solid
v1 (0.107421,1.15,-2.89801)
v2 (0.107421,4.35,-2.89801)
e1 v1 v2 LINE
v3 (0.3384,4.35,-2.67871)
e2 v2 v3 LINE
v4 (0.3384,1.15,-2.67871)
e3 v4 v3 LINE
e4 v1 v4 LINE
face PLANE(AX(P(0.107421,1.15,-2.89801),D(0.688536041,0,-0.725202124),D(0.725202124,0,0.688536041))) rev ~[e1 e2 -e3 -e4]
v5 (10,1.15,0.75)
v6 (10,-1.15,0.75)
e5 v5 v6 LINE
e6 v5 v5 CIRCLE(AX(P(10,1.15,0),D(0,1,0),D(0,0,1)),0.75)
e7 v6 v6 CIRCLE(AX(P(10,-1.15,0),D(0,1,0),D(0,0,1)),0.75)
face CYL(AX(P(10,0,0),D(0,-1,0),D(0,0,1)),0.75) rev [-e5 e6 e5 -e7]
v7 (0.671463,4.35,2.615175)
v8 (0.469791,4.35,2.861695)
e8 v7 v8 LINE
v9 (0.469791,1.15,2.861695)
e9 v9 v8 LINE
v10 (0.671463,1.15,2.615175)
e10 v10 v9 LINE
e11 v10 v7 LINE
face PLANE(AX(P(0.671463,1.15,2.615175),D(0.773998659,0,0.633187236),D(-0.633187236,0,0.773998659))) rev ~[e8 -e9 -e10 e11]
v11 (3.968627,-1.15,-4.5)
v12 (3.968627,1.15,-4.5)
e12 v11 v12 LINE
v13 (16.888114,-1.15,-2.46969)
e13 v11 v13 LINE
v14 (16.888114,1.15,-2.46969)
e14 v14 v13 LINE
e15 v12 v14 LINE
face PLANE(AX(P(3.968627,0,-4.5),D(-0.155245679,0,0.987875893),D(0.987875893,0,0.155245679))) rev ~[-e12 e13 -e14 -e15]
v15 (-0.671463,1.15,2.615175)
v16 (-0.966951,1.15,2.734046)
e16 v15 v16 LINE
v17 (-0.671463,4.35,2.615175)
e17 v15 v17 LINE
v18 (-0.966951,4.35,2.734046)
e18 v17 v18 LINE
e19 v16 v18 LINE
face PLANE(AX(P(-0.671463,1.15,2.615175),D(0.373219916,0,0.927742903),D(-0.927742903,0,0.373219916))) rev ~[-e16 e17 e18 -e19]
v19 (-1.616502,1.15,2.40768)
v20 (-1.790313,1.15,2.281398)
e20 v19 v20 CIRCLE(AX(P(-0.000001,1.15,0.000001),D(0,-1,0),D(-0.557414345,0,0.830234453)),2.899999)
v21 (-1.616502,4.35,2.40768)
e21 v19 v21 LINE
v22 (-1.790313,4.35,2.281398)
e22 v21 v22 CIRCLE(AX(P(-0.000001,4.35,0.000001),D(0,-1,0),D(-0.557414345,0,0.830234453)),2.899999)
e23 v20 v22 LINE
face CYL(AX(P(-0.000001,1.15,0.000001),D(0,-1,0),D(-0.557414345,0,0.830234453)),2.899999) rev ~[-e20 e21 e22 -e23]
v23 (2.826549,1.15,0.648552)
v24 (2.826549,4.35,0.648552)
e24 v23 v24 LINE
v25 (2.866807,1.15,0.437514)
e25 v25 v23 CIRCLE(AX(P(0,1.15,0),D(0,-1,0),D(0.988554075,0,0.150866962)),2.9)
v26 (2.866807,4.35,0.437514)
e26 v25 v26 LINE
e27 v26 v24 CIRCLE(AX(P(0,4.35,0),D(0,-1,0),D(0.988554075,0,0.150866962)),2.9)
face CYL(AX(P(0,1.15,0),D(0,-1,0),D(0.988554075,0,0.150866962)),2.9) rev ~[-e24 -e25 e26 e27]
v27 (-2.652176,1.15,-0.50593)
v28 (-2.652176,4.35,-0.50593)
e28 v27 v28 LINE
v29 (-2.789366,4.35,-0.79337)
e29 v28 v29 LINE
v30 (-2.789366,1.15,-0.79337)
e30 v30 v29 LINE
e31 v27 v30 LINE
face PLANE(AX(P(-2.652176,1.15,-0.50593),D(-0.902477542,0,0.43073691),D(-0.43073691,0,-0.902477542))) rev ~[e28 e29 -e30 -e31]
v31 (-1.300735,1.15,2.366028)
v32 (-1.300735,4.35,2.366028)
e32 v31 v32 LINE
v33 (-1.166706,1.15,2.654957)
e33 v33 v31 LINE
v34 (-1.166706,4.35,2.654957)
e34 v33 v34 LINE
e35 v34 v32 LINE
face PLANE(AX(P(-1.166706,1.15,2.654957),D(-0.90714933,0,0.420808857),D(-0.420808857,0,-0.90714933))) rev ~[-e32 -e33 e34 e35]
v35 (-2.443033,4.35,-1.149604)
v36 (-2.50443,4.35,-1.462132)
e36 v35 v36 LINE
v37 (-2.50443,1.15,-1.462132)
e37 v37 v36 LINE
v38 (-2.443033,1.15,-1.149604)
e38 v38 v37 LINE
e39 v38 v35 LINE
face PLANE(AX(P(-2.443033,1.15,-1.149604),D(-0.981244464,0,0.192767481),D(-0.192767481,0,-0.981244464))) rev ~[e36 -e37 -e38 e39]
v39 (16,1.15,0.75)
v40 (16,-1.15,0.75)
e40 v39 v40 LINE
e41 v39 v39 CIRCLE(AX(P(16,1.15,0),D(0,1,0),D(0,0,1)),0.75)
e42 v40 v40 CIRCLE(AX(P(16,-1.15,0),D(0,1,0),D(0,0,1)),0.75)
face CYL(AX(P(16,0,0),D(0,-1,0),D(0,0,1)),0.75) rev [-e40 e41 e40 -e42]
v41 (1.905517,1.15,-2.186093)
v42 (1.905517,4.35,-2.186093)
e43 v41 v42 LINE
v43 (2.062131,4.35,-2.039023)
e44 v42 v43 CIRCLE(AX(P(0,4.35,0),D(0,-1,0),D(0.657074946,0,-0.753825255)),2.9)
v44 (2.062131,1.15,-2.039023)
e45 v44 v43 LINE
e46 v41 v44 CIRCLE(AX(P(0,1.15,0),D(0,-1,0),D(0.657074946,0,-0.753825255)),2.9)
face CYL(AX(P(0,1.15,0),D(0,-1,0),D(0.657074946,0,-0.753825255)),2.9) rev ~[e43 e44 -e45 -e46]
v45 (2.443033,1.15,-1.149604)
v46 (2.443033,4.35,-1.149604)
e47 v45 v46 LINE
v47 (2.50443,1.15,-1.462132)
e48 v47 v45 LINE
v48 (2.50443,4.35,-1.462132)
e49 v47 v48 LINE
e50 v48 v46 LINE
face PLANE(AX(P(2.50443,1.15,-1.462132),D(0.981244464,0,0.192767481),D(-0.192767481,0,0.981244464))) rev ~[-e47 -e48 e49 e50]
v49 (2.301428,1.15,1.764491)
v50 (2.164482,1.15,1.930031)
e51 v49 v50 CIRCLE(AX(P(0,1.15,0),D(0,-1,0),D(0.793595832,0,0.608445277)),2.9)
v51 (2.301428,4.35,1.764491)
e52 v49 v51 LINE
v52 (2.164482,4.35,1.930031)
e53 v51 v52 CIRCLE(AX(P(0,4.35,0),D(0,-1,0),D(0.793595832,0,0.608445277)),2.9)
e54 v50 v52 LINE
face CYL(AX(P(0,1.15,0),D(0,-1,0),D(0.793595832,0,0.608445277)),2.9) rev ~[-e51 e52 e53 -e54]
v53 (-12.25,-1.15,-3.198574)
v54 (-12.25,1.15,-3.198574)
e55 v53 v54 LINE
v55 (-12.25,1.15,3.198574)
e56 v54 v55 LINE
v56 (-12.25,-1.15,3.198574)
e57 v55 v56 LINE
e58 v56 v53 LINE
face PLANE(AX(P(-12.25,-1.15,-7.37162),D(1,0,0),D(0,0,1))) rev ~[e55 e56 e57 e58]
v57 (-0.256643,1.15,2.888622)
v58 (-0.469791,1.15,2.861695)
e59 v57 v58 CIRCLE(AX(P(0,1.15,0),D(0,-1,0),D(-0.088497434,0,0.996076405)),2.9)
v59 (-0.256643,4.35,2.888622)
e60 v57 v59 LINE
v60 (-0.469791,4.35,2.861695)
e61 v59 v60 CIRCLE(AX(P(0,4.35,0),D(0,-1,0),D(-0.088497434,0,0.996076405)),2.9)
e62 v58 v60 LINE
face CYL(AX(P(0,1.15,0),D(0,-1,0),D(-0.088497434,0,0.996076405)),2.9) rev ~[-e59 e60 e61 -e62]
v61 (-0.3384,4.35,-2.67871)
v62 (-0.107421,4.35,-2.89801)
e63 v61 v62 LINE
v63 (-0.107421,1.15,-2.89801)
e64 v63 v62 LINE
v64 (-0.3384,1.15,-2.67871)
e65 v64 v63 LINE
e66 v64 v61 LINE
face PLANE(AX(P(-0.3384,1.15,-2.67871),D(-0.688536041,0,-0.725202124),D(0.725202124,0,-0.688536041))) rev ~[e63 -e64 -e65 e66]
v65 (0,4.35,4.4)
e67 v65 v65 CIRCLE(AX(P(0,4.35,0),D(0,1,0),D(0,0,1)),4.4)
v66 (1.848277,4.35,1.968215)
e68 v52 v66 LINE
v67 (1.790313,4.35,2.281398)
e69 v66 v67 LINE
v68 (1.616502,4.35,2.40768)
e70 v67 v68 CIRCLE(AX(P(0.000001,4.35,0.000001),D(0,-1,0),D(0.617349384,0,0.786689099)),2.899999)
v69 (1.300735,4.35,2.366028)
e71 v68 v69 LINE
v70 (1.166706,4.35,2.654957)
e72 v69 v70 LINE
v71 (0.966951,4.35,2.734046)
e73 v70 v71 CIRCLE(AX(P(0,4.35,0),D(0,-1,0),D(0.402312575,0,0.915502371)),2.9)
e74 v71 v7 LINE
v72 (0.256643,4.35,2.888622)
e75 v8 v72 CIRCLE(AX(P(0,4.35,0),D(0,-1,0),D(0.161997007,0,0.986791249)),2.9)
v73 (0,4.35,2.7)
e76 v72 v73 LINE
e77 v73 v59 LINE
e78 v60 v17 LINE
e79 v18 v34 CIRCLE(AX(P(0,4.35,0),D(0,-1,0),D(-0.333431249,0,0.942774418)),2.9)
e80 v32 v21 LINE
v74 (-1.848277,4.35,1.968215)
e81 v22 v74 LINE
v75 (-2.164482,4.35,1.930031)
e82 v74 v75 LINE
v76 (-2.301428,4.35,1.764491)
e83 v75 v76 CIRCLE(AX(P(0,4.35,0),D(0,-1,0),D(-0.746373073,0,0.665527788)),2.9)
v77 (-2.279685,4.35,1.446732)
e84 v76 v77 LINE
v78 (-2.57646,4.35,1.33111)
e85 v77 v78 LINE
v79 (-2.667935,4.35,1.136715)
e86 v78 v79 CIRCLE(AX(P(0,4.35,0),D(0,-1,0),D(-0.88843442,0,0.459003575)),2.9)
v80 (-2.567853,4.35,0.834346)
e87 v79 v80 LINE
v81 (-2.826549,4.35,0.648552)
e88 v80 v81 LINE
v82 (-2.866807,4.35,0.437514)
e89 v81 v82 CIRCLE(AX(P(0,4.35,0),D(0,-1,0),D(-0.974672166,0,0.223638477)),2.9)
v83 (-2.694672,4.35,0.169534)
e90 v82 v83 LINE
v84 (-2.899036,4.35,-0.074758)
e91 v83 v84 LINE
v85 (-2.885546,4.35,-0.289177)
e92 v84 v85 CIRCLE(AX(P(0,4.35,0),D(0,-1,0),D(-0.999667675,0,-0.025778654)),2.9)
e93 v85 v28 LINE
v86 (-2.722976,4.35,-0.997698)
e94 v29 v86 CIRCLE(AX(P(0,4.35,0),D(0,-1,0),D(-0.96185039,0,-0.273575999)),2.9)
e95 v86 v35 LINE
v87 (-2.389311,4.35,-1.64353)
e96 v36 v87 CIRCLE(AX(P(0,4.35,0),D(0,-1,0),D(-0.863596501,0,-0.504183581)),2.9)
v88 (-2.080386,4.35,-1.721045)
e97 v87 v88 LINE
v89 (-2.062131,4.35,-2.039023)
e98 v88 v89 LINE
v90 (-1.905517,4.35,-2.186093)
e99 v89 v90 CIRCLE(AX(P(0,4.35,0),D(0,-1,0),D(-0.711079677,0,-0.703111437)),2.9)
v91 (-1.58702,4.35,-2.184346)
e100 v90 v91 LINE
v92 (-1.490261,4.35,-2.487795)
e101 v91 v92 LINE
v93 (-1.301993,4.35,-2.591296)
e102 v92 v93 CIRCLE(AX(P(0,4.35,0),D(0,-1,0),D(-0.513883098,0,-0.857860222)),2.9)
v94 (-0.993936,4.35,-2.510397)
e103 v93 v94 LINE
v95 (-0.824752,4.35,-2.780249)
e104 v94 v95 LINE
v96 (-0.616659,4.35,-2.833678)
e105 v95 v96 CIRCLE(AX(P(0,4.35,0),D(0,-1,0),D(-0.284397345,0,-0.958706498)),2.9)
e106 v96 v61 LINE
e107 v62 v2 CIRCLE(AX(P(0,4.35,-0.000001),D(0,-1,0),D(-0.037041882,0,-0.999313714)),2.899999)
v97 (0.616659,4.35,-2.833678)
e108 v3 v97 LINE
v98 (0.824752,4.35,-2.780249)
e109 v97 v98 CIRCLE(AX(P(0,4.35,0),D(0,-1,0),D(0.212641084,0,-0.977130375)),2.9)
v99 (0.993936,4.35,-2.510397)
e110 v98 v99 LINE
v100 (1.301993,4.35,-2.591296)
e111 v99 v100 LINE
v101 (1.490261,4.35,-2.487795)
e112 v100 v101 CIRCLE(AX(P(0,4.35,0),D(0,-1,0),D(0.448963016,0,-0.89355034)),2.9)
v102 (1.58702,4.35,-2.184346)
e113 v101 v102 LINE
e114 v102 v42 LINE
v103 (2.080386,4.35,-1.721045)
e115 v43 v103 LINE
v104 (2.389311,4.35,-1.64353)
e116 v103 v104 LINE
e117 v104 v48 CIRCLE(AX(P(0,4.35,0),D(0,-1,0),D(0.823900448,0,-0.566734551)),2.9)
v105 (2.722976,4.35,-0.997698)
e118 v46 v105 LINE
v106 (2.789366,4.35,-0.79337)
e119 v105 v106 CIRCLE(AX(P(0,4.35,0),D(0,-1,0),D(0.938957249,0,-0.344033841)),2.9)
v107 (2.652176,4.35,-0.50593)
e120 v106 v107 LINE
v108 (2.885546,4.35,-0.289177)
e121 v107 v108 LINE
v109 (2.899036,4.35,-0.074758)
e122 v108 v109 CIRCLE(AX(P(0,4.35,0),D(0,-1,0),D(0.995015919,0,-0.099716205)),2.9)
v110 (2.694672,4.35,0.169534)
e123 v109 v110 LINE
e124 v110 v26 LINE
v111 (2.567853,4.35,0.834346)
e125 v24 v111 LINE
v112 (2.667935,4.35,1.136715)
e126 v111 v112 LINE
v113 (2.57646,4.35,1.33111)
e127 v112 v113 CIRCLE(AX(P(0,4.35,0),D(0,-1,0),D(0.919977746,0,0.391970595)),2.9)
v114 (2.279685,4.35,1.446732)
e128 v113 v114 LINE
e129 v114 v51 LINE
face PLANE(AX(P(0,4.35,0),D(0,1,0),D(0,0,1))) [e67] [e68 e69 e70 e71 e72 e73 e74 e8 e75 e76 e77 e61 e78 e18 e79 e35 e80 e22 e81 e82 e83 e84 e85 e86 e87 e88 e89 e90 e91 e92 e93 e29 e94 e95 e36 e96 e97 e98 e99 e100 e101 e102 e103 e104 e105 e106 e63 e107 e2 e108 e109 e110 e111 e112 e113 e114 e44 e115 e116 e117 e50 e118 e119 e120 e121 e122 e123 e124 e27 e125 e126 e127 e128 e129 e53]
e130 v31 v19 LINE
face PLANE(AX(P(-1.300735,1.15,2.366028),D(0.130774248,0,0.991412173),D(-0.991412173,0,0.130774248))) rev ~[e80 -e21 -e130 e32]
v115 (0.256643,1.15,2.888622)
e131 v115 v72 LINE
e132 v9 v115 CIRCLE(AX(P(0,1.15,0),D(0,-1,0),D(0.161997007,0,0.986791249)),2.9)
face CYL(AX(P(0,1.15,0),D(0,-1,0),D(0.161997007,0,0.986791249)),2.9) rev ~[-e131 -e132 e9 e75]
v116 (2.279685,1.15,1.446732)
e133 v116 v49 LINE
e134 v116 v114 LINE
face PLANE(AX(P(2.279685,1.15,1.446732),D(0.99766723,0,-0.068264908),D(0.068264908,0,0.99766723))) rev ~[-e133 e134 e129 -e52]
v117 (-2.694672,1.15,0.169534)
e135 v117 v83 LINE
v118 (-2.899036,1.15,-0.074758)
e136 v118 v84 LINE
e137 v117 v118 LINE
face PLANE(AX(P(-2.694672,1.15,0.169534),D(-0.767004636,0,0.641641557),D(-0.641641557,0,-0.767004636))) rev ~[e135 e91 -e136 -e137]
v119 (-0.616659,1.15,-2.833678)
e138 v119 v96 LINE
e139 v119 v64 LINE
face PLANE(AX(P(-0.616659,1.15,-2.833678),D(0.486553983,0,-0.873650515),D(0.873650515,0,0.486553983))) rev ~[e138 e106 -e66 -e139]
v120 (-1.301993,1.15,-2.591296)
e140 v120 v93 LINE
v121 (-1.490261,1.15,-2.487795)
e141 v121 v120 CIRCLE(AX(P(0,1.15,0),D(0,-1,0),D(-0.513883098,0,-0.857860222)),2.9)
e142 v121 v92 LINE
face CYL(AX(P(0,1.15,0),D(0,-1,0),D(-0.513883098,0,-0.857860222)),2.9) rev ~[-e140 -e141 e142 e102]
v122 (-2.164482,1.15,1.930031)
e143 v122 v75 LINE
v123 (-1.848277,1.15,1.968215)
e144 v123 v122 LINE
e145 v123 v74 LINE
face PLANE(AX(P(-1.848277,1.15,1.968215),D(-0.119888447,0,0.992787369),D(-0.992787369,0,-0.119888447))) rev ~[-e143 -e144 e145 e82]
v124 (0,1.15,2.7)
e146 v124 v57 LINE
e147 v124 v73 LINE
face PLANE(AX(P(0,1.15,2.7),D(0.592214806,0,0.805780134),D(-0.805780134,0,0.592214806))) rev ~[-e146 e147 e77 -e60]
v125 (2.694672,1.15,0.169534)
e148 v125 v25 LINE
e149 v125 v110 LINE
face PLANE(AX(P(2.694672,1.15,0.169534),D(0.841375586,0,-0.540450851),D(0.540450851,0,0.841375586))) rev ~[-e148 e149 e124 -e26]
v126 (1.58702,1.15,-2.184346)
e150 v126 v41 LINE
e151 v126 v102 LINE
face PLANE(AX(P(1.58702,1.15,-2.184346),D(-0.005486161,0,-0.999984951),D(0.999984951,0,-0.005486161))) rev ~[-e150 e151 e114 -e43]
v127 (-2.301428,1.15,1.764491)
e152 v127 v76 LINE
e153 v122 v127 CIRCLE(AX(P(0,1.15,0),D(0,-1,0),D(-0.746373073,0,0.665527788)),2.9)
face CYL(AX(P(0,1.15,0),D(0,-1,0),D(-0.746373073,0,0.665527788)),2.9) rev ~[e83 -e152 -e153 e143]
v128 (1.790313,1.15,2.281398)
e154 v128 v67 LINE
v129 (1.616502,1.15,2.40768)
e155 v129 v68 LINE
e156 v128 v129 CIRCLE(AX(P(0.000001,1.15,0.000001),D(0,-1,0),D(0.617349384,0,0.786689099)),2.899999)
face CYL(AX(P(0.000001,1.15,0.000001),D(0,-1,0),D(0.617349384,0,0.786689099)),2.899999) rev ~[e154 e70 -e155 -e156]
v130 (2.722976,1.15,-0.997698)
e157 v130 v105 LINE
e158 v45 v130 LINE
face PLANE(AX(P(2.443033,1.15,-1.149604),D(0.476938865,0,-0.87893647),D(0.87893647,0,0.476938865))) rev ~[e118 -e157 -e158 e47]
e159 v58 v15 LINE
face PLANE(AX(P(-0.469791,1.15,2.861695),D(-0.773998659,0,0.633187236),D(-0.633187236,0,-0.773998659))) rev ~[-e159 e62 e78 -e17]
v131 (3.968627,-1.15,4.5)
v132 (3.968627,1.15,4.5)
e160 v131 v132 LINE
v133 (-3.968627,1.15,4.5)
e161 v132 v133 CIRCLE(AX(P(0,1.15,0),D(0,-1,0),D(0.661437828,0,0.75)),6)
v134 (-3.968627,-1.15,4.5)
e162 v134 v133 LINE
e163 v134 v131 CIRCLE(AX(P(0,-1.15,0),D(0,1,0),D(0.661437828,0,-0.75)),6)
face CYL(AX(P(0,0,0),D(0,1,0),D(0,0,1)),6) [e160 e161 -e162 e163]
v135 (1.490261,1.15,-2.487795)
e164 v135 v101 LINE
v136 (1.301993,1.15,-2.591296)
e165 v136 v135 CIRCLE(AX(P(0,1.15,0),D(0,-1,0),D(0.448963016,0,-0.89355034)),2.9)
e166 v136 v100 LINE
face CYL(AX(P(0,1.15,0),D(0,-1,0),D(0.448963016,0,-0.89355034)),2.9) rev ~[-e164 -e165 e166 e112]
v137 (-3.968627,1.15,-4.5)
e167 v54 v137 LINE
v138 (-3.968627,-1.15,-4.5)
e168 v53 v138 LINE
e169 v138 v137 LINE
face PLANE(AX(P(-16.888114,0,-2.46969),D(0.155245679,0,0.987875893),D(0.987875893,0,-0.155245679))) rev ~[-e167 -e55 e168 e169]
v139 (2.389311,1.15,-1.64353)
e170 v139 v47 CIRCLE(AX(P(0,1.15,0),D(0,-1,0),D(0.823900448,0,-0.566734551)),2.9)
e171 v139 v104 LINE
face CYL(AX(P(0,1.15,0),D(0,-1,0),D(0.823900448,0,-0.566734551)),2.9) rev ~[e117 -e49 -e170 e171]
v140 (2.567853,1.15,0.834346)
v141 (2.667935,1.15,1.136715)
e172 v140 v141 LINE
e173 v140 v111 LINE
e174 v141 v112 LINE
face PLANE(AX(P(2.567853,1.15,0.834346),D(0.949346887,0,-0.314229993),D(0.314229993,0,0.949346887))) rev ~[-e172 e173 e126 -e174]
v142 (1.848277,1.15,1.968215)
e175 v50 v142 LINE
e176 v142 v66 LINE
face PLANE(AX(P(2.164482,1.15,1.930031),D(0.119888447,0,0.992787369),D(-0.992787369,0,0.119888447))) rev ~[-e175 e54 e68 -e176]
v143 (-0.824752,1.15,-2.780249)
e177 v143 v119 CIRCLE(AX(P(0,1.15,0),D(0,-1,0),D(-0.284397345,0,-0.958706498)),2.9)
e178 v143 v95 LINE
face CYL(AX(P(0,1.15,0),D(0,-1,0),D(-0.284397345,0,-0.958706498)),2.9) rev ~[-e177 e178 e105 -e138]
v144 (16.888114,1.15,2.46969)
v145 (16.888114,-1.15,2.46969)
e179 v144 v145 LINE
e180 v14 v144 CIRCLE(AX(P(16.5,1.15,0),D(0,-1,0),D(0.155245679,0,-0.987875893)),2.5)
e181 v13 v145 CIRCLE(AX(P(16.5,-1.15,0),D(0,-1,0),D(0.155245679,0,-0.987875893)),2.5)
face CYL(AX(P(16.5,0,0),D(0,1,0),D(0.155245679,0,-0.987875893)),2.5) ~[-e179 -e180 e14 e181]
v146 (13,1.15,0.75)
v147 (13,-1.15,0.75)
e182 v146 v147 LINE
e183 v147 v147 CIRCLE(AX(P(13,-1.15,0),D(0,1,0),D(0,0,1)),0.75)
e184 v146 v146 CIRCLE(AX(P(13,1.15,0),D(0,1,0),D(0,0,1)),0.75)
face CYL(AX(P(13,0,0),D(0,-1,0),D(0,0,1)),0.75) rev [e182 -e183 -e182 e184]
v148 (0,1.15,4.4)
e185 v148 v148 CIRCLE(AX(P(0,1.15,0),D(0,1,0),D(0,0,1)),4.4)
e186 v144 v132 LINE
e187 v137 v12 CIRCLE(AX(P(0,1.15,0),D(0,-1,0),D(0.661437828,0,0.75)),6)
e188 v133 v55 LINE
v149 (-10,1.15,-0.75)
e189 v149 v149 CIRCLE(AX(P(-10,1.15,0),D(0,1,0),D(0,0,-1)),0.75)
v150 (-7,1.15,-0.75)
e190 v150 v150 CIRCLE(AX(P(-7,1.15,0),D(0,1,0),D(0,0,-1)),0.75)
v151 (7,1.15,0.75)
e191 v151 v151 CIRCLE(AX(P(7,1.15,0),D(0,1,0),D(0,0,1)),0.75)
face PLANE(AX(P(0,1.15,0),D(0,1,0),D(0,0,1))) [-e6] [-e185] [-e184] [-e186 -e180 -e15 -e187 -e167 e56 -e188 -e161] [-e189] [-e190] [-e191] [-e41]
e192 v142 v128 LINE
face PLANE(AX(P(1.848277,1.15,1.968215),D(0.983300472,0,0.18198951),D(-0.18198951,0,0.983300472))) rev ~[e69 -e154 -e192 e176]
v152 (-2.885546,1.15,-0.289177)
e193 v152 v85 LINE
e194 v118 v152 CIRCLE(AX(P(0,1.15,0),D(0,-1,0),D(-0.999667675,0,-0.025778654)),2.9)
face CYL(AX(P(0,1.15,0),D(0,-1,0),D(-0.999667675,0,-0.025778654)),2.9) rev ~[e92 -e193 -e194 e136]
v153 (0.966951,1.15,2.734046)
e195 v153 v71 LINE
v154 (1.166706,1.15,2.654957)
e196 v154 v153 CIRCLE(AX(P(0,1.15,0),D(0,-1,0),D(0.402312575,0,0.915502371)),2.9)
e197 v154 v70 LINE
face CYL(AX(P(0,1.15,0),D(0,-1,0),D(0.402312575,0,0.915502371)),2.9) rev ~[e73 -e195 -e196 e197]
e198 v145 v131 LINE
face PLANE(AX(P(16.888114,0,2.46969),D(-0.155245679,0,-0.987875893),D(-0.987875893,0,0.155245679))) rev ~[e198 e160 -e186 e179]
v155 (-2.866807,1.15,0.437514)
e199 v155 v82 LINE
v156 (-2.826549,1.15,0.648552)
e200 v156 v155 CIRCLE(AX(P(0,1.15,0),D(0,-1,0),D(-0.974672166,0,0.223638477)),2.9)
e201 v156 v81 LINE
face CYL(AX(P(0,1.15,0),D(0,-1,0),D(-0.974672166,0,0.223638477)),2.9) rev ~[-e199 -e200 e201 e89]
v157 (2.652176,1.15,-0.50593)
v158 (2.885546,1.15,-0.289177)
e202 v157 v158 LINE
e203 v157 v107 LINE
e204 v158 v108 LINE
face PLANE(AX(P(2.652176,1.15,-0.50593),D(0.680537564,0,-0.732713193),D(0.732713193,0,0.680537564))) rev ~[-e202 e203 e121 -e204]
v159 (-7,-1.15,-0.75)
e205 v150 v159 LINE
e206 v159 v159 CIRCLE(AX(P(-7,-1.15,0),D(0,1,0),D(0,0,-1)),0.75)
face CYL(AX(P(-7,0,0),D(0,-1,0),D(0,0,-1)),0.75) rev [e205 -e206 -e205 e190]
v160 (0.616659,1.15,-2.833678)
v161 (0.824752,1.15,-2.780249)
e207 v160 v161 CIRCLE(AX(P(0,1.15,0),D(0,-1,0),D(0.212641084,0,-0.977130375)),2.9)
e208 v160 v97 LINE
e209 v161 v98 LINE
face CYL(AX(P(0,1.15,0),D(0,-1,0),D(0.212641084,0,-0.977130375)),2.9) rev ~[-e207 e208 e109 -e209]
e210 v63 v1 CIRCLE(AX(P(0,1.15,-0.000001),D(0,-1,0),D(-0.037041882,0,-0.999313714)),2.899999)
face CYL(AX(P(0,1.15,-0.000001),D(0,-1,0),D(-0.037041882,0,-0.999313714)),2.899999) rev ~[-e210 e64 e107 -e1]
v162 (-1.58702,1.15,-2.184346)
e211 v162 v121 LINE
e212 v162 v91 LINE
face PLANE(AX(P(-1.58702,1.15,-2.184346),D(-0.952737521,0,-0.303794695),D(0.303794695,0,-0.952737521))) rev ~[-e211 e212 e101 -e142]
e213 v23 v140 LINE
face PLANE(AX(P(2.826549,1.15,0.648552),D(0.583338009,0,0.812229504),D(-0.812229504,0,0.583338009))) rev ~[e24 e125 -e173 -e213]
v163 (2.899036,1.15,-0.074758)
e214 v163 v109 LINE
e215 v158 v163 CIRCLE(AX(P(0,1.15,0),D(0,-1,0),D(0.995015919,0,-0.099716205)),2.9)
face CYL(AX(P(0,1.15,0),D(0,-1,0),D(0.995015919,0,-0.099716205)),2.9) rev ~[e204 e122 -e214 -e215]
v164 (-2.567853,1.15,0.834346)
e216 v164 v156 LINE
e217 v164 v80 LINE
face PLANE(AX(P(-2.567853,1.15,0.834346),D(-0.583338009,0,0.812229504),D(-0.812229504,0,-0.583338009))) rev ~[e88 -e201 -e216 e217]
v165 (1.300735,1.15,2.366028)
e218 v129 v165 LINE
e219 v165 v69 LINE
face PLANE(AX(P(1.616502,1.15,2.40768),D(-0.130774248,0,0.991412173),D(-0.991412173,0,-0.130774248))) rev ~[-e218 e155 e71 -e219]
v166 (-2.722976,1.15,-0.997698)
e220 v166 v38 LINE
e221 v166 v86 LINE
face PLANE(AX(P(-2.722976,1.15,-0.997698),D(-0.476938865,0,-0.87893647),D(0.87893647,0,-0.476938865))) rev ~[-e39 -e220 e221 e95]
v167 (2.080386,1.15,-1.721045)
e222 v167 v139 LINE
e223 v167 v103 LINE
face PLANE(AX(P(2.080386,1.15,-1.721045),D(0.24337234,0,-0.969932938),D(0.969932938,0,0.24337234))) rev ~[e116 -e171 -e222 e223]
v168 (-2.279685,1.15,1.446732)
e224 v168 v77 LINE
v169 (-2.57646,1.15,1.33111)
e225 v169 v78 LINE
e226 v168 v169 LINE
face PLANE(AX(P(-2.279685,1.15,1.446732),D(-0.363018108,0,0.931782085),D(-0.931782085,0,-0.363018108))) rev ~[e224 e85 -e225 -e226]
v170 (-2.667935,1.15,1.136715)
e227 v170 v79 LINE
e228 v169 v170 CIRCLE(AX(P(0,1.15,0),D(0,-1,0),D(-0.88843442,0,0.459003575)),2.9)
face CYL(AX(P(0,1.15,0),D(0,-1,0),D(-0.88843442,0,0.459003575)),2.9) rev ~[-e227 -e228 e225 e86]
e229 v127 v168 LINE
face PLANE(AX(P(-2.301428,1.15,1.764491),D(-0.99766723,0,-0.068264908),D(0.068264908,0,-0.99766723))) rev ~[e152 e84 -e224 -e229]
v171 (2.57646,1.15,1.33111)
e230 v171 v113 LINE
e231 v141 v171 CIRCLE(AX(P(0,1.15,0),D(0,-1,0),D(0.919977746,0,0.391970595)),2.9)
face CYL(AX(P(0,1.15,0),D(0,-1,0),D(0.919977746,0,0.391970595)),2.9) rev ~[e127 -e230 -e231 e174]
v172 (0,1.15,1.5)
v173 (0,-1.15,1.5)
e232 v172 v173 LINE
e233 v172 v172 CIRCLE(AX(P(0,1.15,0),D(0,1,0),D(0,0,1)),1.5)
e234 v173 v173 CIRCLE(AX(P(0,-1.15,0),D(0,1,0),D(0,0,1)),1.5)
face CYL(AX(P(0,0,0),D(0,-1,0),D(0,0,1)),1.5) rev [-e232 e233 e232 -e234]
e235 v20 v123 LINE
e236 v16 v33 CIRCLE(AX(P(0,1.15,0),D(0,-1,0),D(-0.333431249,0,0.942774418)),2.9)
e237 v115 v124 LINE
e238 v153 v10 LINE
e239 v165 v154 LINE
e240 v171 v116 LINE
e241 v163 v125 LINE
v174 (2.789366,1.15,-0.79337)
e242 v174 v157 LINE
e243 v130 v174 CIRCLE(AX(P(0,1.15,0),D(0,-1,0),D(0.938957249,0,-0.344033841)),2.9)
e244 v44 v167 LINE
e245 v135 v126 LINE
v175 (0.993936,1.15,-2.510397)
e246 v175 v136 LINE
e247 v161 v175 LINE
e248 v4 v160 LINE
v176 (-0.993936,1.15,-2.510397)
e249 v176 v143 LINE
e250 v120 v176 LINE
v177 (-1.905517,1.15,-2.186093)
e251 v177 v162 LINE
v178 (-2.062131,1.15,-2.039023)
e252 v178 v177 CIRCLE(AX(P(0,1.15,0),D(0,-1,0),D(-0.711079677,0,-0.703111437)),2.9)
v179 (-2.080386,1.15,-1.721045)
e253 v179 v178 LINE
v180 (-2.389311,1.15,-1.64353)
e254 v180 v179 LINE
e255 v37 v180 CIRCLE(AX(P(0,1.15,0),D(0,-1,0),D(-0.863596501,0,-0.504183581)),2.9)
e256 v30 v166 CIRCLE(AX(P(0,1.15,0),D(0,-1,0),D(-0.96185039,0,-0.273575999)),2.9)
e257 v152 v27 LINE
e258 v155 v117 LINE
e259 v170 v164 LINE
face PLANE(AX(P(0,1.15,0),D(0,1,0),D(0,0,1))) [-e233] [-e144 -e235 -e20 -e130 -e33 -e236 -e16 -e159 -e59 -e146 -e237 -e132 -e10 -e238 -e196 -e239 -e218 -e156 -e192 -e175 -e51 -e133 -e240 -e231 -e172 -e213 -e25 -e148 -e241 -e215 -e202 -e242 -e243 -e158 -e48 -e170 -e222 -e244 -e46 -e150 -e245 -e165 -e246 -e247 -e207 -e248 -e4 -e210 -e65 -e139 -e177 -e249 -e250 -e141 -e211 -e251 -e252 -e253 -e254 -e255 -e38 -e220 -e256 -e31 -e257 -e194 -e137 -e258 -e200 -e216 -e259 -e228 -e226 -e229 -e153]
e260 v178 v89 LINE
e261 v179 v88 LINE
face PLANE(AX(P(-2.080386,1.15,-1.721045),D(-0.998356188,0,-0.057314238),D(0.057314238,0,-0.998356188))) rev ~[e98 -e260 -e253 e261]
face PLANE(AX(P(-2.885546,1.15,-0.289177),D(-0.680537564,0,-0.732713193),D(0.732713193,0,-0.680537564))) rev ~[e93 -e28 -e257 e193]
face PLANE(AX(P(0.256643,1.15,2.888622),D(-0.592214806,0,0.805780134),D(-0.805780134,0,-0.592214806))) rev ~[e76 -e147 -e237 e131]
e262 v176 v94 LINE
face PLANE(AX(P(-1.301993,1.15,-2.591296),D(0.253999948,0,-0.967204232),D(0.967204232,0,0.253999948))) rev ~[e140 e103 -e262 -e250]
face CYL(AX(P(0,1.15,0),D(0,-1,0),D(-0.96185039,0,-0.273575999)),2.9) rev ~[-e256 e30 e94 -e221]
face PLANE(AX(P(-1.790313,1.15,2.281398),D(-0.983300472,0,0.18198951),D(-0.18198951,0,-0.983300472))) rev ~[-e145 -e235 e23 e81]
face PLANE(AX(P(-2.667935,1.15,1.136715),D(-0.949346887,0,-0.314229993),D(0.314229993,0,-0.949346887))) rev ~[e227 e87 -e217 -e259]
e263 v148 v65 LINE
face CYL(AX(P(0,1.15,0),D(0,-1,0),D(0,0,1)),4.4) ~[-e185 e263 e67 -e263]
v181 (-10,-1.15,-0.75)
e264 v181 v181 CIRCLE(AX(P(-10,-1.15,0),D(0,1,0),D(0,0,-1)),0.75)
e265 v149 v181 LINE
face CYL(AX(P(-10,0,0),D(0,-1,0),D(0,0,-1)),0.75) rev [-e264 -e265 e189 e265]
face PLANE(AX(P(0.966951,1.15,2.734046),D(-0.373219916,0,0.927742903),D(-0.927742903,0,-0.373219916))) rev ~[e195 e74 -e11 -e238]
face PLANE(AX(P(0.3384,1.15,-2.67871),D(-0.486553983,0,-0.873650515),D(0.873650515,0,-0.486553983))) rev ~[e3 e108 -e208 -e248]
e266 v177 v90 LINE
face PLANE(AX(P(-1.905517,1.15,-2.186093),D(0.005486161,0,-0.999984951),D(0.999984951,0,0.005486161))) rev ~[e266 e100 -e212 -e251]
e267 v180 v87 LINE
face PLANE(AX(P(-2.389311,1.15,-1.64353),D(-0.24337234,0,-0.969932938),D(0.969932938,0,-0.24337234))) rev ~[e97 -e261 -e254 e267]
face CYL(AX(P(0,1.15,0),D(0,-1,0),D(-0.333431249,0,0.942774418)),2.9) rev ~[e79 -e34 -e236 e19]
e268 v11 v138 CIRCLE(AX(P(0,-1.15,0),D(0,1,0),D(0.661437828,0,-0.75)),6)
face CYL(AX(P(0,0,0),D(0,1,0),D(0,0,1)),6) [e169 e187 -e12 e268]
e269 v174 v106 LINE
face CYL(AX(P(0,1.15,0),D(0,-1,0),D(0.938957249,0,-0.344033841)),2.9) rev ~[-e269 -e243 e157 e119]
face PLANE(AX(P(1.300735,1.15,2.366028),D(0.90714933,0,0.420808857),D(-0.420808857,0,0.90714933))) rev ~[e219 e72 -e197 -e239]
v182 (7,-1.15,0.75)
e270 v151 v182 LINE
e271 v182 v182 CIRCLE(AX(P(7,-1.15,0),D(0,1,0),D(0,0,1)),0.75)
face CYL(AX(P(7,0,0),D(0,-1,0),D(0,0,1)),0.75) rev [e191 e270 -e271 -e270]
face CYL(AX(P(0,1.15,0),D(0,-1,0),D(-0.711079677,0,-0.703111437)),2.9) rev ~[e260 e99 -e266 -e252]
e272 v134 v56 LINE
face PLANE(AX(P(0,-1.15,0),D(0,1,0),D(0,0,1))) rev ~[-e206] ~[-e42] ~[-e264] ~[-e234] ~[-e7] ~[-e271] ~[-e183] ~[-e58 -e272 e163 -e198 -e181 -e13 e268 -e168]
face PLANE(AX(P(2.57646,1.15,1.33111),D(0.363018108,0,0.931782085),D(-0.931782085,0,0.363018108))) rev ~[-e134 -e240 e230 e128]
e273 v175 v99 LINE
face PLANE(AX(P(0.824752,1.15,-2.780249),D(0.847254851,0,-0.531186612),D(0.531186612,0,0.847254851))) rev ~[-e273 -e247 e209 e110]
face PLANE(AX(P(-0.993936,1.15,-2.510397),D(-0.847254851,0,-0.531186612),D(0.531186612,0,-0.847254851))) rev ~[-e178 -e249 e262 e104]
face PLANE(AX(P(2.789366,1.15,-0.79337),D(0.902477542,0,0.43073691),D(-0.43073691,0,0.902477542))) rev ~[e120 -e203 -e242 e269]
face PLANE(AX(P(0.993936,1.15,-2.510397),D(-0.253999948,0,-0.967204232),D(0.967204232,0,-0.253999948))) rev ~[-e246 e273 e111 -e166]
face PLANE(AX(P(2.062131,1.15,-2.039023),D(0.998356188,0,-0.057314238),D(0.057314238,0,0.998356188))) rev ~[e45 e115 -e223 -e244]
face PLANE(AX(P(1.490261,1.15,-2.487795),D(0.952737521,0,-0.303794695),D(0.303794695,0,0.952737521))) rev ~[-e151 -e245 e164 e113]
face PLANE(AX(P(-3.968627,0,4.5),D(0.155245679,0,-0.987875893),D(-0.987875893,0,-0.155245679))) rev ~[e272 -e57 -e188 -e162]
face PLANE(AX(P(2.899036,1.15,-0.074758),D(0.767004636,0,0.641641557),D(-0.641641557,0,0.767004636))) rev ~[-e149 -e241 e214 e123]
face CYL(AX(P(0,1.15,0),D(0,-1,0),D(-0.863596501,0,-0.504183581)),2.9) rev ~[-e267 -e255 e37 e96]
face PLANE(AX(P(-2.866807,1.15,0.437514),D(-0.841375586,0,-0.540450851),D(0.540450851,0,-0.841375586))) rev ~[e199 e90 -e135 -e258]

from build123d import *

# Parameters (mm, degrees)
SKETCH2_R           = 6
SKETCH2_R_2         = 1.5
BOSS_EXTRUDE1_DEPTH = 1.15
SKETCH3_R           = 4.4
BOSS_EXTRUDE2_DEPTH = 3.2
SKETCH4_R           = 0.75
BOSS_EXTRUDE3_DEPTH = 1.15
CIRPATTERN1_COUNT   = 2
CUT_EXTRUDE1_DEPTH  = 10


with BuildPart() as part:
    # Sketch2 → Boss-Extrude1 (new, symmetric)
    with BuildSketch(Plane(origin=(0, 0, 0), x_dir=(1, 0, 0), z_dir=(0, 1, 0))):
        with Locations(Location((0, 0, 0), (0, 0, 270))):
            Circle(SKETCH2_R)
        with Locations(Location((0, 0, 0), (0, 0, 270))):
            Circle(SKETCH2_R_2, mode=Mode.SUBTRACT)
    extrude(amount=BOSS_EXTRUDE1_DEPTH, both=True)

    # Sketch3 → Boss-Extrude2 (add)
    with BuildSketch(Plane(origin=(0, 1.15, 0), x_dir=(1, 0, 0), z_dir=(0, 1, 0))):
        with Locations(Location((0, 0, 0), (0, 0, 270))):
            Circle(SKETCH3_R)
        with BuildLine():
            Line((0.107421435, 2.898009771), (0.338399731, 2.678709694))
            Line((0.338399731, 2.678709694), (0.61665913, 2.83367809))
            ThreePointArc((0.61665913, 2.83367809), (0.721200673, 2.808891167), (0.824752316, 2.780248841))
            Line((0.824752316, 2.780248841), (0.993936292, 2.510396512))
            Line((0.993936292, 2.510396512), (1.301992734, 2.591295993))
            ThreePointArc((1.301992734, 2.591295993), (1.397085655, 2.541289372), (1.490260976, 2.48779465))
            Line((1.490260976, 2.48779465), (1.587020181, 2.184345885))
            Line((1.587020181, 2.184345885), (1.905517346, 2.186093238))
            ThreePointArc((1.905517346, 2.186093238), (1.985186607, 2.11400902), (2.062131058, 2.039023173))
            Line((2.062131058, 2.039023173), (2.080385755, 1.721044772))
            Line((2.080385755, 1.721044772), (2.389311295, 1.643530205))
            ThreePointArc((2.389311295, 1.643530205), (2.448550984, 1.553897705), (2.504429862, 1.46213237))
            Line((2.504429862, 1.46213237), (2.443033042, 1.149604087))
            Line((2.443033042, 1.149604087), (2.722976028, 0.997698125))
            ThreePointArc((2.722976028, 0.997698125), (2.758063897, 0.896149284), (2.789366126, 0.793370413))
            Line((2.789366126, 0.793370413), (2.652175577, 0.505929549))
            Line((2.652175577, 0.505929549), (2.885546163, 0.289177003))
            ThreePointArc((2.885546163, 0.289177003), (2.894277512, 0.182092507), (2.899036259, 0.074758075))
            Line((2.899036259, 0.074758075), (2.694672167, -0.169534403))
            Line((2.694672167, -0.169534403), (2.866806821, -0.437514174))
            ThreePointArc((2.866806821, -0.437514174), (2.848633027, -0.543405812), (2.826549281, -0.648551587))
            Line((2.826549281, -0.648551587), (2.567852594, -0.834345885))
            Line((2.567852594, -0.834345885), (2.667935462, -1.136714727))
            ThreePointArc((2.667935462, -1.136714727), (2.623998452, -1.234759946), (2.576459817, -1.331110368))
            Line((2.576459817, -1.331110368), (2.279685399, -1.446732346))
            Line((2.279685399, -1.446732346), (2.301427906, -1.764491312))
            ThreePointArc((2.301427906, -1.764491312), (2.234488404, -1.84852957), (2.164481907, -1.930030589))
            Line((2.164481907, -1.930030589), (1.848277186, -1.968215294))
            Line((1.848277186, -1.968215294), (1.790313171, -2.281398419))
            ThreePointArc((1.790313171, -2.281398419), (1.704577232, -2.346149284), (1.616501638, -2.40767989))
            Line((1.616501638, -2.40767989), (1.30073492, -2.366028036))
            Line((1.30073492, -2.366028036), (1.166706475, -2.654956874))
            ThreePointArc((1.166706475, -2.654956874), (1.067561203, -2.696351809), (0.966950626, -2.734045809))
            Line((0.966950626, -2.734045809), (0.671462695, -2.615174535))
            Line((0.671462695, -2.615174535), (0.469791321, -2.861694623))
            ThreePointArc((0.469791321, -2.861694623), (0.363466377, -2.877132634), (0.25664255, -2.888621575))
            Line((0.25664255, -2.888621575), (0, -2.7))
            Line((0, -2.7), (-0.25664255, -2.888621575))
            ThreePointArc((-0.25664255, -2.888621575), (-0.363466377, -2.877132634), (-0.469791321, -2.861694623))
            Line((-0.469791321, -2.861694623), (-0.671462695, -2.615174535))
            Line((-0.671462695, -2.615174535), (-0.966950626, -2.734045809))
            ThreePointArc((-0.966950626, -2.734045809), (-1.067561203, -2.696351809), (-1.166706475, -2.654956874))
            Line((-1.166706475, -2.654956874), (-1.30073492, -2.366028036))
            Line((-1.30073492, -2.366028036), (-1.616501638, -2.40767989))
            ThreePointArc((-1.616501638, -2.40767989), (-1.704577232, -2.346149284), (-1.790313171, -2.281398419))
            Line((-1.790313171, -2.281398419), (-1.848277186, -1.968215294))
            Line((-1.848277186, -1.968215294), (-2.164481907, -1.930030589))
            ThreePointArc((-2.164481907, -1.930030589), (-2.234488404, -1.84852957), (-2.301427906, -1.764491312))
            Line((-2.301427906, -1.764491312), (-2.279685399, -1.446732346))
            Line((-2.279685399, -1.446732346), (-2.576459817, -1.331110368))
            ThreePointArc((-2.576459817, -1.331110368), (-2.623998452, -1.234759946), (-2.667935462, -1.136714727))
            Line((-2.667935462, -1.136714727), (-2.567852594, -0.834345885))
            Line((-2.567852594, -0.834345885), (-2.826549281, -0.648551587))
            ThreePointArc((-2.826549281, -0.648551587), (-2.848633027, -0.543405812), (-2.866806821, -0.437514174))
            Line((-2.866806821, -0.437514174), (-2.694672167, -0.169534403))
            Line((-2.694672167, -0.169534403), (-2.899036259, 0.074758075))
            ThreePointArc((-2.899036259, 0.074758075), (-2.894277512, 0.182092507), (-2.885546163, 0.289177003))
            Line((-2.885546163, 0.289177003), (-2.652175577, 0.505929549))
            Line((-2.652175577, 0.505929549), (-2.789366126, 0.793370413))
            ThreePointArc((-2.789366126, 0.793370413), (-2.758063897, 0.896149284), (-2.722976028, 0.997698125))
            Line((-2.722976028, 0.997698125), (-2.443033042, 1.149604087))
            Line((-2.443033042, 1.149604087), (-2.504429862, 1.46213237))
            ThreePointArc((-2.504429862, 1.46213237), (-2.448550984, 1.553897705), (-2.389311295, 1.643530205))
            Line((-2.389311295, 1.643530205), (-2.080385755, 1.721044772))
            Line((-2.080385755, 1.721044772), (-2.062131058, 2.039023173))
            ThreePointArc((-2.062131058, 2.039023173), (-1.985186607, 2.11400902), (-1.905517346, 2.186093238))
            Line((-1.905517346, 2.186093238), (-1.587020181, 2.184345885))
            Line((-1.587020181, 2.184345885), (-1.490260976, 2.48779465))
            ThreePointArc((-1.490260976, 2.48779465), (-1.397085655, 2.541289372), (-1.301992734, 2.591295993))
            Line((-1.301992734, 2.591295993), (-0.993936292, 2.510396512))
            Line((-0.993936292, 2.510396512), (-0.824752316, 2.780248841))
            ThreePointArc((-0.824752316, 2.780248841), (-0.721200673, 2.808891167), (-0.61665913, 2.83367809))
            Line((-0.61665913, 2.83367809), (-0.338399731, 2.678709694))
            Line((-0.338399731, 2.678709694), (-0.107421435, 2.898009771))
            ThreePointArc((-0.107421435, 2.898009771), (0, 2.9), (0.107421435, 2.898009771))
        make_face(mode=Mode.SUBTRACT)
    extrude(amount=BOSS_EXTRUDE2_DEPTH)

    # Sketch4 → Boss-Extrude3 (add, symmetric)
    with BuildSketch(Plane(origin=(0, 0, 0), x_dir=(1, 0, 0), z_dir=(0, 1, 0))):
        with BuildLine():
            Line((3.968626967, 4.5), (16.888114198, 2.469689731))
            ThreePointArc((16.888114198, 2.469689731), (19, 0), (16.888114198, -2.469689731))
            Line((16.888114198, -2.469689731), (3.968626967, -4.5))
            ThreePointArc((3.968626967, -4.5), (6, 0), (3.968626967, 4.5))
        make_face()
        with Locations(Location((16, 0, 0), (0, 0, 270))):
            Circle(SKETCH4_R, mode=Mode.SUBTRACT)
        with Locations(Location((13, 0, 0), (0, 0, 270))):
            Circle(SKETCH4_R, mode=Mode.SUBTRACT)
        with Locations(Location((10, 0, 0), (0, 0, 270))):
            Circle(SKETCH4_R, mode=Mode.SUBTRACT)
        with Locations(Location((7, 0, 0), (0, 0, 270))):
            Circle(SKETCH4_R, mode=Mode.SUBTRACT)
    boss_extrude3 = extrude(amount=BOSS_EXTRUDE3_DEPTH, both=True)

    # CirPattern1: Boss-Extrude3 ×2 about axis
    cirpattern1_axis = Axis((0, 0, 0), (0, 1, 0))
    for i in range(1, CIRPATTERN1_COUNT):
        add(boss_extrude3.rotate(cirpattern1_axis, i * 360 / CIRPATTERN1_COUNT))

    # Sketch6 → Cut-Extrude1 (cut)
    with BuildSketch(Plane.XZ.offset(1.15)):
        Polygon((-12.25, 0), (-12.25, 5.932687926), (-21.293207436, 5.932687926), (-21.293207436, 0), (-21.293207436, -7.371619722), (-12.25, -7.371619722), align=None)
    extrude(amount=-CUT_EXTRUDE1_DEPTH, mode=Mode.SUBTRACT)


solid = part.part
